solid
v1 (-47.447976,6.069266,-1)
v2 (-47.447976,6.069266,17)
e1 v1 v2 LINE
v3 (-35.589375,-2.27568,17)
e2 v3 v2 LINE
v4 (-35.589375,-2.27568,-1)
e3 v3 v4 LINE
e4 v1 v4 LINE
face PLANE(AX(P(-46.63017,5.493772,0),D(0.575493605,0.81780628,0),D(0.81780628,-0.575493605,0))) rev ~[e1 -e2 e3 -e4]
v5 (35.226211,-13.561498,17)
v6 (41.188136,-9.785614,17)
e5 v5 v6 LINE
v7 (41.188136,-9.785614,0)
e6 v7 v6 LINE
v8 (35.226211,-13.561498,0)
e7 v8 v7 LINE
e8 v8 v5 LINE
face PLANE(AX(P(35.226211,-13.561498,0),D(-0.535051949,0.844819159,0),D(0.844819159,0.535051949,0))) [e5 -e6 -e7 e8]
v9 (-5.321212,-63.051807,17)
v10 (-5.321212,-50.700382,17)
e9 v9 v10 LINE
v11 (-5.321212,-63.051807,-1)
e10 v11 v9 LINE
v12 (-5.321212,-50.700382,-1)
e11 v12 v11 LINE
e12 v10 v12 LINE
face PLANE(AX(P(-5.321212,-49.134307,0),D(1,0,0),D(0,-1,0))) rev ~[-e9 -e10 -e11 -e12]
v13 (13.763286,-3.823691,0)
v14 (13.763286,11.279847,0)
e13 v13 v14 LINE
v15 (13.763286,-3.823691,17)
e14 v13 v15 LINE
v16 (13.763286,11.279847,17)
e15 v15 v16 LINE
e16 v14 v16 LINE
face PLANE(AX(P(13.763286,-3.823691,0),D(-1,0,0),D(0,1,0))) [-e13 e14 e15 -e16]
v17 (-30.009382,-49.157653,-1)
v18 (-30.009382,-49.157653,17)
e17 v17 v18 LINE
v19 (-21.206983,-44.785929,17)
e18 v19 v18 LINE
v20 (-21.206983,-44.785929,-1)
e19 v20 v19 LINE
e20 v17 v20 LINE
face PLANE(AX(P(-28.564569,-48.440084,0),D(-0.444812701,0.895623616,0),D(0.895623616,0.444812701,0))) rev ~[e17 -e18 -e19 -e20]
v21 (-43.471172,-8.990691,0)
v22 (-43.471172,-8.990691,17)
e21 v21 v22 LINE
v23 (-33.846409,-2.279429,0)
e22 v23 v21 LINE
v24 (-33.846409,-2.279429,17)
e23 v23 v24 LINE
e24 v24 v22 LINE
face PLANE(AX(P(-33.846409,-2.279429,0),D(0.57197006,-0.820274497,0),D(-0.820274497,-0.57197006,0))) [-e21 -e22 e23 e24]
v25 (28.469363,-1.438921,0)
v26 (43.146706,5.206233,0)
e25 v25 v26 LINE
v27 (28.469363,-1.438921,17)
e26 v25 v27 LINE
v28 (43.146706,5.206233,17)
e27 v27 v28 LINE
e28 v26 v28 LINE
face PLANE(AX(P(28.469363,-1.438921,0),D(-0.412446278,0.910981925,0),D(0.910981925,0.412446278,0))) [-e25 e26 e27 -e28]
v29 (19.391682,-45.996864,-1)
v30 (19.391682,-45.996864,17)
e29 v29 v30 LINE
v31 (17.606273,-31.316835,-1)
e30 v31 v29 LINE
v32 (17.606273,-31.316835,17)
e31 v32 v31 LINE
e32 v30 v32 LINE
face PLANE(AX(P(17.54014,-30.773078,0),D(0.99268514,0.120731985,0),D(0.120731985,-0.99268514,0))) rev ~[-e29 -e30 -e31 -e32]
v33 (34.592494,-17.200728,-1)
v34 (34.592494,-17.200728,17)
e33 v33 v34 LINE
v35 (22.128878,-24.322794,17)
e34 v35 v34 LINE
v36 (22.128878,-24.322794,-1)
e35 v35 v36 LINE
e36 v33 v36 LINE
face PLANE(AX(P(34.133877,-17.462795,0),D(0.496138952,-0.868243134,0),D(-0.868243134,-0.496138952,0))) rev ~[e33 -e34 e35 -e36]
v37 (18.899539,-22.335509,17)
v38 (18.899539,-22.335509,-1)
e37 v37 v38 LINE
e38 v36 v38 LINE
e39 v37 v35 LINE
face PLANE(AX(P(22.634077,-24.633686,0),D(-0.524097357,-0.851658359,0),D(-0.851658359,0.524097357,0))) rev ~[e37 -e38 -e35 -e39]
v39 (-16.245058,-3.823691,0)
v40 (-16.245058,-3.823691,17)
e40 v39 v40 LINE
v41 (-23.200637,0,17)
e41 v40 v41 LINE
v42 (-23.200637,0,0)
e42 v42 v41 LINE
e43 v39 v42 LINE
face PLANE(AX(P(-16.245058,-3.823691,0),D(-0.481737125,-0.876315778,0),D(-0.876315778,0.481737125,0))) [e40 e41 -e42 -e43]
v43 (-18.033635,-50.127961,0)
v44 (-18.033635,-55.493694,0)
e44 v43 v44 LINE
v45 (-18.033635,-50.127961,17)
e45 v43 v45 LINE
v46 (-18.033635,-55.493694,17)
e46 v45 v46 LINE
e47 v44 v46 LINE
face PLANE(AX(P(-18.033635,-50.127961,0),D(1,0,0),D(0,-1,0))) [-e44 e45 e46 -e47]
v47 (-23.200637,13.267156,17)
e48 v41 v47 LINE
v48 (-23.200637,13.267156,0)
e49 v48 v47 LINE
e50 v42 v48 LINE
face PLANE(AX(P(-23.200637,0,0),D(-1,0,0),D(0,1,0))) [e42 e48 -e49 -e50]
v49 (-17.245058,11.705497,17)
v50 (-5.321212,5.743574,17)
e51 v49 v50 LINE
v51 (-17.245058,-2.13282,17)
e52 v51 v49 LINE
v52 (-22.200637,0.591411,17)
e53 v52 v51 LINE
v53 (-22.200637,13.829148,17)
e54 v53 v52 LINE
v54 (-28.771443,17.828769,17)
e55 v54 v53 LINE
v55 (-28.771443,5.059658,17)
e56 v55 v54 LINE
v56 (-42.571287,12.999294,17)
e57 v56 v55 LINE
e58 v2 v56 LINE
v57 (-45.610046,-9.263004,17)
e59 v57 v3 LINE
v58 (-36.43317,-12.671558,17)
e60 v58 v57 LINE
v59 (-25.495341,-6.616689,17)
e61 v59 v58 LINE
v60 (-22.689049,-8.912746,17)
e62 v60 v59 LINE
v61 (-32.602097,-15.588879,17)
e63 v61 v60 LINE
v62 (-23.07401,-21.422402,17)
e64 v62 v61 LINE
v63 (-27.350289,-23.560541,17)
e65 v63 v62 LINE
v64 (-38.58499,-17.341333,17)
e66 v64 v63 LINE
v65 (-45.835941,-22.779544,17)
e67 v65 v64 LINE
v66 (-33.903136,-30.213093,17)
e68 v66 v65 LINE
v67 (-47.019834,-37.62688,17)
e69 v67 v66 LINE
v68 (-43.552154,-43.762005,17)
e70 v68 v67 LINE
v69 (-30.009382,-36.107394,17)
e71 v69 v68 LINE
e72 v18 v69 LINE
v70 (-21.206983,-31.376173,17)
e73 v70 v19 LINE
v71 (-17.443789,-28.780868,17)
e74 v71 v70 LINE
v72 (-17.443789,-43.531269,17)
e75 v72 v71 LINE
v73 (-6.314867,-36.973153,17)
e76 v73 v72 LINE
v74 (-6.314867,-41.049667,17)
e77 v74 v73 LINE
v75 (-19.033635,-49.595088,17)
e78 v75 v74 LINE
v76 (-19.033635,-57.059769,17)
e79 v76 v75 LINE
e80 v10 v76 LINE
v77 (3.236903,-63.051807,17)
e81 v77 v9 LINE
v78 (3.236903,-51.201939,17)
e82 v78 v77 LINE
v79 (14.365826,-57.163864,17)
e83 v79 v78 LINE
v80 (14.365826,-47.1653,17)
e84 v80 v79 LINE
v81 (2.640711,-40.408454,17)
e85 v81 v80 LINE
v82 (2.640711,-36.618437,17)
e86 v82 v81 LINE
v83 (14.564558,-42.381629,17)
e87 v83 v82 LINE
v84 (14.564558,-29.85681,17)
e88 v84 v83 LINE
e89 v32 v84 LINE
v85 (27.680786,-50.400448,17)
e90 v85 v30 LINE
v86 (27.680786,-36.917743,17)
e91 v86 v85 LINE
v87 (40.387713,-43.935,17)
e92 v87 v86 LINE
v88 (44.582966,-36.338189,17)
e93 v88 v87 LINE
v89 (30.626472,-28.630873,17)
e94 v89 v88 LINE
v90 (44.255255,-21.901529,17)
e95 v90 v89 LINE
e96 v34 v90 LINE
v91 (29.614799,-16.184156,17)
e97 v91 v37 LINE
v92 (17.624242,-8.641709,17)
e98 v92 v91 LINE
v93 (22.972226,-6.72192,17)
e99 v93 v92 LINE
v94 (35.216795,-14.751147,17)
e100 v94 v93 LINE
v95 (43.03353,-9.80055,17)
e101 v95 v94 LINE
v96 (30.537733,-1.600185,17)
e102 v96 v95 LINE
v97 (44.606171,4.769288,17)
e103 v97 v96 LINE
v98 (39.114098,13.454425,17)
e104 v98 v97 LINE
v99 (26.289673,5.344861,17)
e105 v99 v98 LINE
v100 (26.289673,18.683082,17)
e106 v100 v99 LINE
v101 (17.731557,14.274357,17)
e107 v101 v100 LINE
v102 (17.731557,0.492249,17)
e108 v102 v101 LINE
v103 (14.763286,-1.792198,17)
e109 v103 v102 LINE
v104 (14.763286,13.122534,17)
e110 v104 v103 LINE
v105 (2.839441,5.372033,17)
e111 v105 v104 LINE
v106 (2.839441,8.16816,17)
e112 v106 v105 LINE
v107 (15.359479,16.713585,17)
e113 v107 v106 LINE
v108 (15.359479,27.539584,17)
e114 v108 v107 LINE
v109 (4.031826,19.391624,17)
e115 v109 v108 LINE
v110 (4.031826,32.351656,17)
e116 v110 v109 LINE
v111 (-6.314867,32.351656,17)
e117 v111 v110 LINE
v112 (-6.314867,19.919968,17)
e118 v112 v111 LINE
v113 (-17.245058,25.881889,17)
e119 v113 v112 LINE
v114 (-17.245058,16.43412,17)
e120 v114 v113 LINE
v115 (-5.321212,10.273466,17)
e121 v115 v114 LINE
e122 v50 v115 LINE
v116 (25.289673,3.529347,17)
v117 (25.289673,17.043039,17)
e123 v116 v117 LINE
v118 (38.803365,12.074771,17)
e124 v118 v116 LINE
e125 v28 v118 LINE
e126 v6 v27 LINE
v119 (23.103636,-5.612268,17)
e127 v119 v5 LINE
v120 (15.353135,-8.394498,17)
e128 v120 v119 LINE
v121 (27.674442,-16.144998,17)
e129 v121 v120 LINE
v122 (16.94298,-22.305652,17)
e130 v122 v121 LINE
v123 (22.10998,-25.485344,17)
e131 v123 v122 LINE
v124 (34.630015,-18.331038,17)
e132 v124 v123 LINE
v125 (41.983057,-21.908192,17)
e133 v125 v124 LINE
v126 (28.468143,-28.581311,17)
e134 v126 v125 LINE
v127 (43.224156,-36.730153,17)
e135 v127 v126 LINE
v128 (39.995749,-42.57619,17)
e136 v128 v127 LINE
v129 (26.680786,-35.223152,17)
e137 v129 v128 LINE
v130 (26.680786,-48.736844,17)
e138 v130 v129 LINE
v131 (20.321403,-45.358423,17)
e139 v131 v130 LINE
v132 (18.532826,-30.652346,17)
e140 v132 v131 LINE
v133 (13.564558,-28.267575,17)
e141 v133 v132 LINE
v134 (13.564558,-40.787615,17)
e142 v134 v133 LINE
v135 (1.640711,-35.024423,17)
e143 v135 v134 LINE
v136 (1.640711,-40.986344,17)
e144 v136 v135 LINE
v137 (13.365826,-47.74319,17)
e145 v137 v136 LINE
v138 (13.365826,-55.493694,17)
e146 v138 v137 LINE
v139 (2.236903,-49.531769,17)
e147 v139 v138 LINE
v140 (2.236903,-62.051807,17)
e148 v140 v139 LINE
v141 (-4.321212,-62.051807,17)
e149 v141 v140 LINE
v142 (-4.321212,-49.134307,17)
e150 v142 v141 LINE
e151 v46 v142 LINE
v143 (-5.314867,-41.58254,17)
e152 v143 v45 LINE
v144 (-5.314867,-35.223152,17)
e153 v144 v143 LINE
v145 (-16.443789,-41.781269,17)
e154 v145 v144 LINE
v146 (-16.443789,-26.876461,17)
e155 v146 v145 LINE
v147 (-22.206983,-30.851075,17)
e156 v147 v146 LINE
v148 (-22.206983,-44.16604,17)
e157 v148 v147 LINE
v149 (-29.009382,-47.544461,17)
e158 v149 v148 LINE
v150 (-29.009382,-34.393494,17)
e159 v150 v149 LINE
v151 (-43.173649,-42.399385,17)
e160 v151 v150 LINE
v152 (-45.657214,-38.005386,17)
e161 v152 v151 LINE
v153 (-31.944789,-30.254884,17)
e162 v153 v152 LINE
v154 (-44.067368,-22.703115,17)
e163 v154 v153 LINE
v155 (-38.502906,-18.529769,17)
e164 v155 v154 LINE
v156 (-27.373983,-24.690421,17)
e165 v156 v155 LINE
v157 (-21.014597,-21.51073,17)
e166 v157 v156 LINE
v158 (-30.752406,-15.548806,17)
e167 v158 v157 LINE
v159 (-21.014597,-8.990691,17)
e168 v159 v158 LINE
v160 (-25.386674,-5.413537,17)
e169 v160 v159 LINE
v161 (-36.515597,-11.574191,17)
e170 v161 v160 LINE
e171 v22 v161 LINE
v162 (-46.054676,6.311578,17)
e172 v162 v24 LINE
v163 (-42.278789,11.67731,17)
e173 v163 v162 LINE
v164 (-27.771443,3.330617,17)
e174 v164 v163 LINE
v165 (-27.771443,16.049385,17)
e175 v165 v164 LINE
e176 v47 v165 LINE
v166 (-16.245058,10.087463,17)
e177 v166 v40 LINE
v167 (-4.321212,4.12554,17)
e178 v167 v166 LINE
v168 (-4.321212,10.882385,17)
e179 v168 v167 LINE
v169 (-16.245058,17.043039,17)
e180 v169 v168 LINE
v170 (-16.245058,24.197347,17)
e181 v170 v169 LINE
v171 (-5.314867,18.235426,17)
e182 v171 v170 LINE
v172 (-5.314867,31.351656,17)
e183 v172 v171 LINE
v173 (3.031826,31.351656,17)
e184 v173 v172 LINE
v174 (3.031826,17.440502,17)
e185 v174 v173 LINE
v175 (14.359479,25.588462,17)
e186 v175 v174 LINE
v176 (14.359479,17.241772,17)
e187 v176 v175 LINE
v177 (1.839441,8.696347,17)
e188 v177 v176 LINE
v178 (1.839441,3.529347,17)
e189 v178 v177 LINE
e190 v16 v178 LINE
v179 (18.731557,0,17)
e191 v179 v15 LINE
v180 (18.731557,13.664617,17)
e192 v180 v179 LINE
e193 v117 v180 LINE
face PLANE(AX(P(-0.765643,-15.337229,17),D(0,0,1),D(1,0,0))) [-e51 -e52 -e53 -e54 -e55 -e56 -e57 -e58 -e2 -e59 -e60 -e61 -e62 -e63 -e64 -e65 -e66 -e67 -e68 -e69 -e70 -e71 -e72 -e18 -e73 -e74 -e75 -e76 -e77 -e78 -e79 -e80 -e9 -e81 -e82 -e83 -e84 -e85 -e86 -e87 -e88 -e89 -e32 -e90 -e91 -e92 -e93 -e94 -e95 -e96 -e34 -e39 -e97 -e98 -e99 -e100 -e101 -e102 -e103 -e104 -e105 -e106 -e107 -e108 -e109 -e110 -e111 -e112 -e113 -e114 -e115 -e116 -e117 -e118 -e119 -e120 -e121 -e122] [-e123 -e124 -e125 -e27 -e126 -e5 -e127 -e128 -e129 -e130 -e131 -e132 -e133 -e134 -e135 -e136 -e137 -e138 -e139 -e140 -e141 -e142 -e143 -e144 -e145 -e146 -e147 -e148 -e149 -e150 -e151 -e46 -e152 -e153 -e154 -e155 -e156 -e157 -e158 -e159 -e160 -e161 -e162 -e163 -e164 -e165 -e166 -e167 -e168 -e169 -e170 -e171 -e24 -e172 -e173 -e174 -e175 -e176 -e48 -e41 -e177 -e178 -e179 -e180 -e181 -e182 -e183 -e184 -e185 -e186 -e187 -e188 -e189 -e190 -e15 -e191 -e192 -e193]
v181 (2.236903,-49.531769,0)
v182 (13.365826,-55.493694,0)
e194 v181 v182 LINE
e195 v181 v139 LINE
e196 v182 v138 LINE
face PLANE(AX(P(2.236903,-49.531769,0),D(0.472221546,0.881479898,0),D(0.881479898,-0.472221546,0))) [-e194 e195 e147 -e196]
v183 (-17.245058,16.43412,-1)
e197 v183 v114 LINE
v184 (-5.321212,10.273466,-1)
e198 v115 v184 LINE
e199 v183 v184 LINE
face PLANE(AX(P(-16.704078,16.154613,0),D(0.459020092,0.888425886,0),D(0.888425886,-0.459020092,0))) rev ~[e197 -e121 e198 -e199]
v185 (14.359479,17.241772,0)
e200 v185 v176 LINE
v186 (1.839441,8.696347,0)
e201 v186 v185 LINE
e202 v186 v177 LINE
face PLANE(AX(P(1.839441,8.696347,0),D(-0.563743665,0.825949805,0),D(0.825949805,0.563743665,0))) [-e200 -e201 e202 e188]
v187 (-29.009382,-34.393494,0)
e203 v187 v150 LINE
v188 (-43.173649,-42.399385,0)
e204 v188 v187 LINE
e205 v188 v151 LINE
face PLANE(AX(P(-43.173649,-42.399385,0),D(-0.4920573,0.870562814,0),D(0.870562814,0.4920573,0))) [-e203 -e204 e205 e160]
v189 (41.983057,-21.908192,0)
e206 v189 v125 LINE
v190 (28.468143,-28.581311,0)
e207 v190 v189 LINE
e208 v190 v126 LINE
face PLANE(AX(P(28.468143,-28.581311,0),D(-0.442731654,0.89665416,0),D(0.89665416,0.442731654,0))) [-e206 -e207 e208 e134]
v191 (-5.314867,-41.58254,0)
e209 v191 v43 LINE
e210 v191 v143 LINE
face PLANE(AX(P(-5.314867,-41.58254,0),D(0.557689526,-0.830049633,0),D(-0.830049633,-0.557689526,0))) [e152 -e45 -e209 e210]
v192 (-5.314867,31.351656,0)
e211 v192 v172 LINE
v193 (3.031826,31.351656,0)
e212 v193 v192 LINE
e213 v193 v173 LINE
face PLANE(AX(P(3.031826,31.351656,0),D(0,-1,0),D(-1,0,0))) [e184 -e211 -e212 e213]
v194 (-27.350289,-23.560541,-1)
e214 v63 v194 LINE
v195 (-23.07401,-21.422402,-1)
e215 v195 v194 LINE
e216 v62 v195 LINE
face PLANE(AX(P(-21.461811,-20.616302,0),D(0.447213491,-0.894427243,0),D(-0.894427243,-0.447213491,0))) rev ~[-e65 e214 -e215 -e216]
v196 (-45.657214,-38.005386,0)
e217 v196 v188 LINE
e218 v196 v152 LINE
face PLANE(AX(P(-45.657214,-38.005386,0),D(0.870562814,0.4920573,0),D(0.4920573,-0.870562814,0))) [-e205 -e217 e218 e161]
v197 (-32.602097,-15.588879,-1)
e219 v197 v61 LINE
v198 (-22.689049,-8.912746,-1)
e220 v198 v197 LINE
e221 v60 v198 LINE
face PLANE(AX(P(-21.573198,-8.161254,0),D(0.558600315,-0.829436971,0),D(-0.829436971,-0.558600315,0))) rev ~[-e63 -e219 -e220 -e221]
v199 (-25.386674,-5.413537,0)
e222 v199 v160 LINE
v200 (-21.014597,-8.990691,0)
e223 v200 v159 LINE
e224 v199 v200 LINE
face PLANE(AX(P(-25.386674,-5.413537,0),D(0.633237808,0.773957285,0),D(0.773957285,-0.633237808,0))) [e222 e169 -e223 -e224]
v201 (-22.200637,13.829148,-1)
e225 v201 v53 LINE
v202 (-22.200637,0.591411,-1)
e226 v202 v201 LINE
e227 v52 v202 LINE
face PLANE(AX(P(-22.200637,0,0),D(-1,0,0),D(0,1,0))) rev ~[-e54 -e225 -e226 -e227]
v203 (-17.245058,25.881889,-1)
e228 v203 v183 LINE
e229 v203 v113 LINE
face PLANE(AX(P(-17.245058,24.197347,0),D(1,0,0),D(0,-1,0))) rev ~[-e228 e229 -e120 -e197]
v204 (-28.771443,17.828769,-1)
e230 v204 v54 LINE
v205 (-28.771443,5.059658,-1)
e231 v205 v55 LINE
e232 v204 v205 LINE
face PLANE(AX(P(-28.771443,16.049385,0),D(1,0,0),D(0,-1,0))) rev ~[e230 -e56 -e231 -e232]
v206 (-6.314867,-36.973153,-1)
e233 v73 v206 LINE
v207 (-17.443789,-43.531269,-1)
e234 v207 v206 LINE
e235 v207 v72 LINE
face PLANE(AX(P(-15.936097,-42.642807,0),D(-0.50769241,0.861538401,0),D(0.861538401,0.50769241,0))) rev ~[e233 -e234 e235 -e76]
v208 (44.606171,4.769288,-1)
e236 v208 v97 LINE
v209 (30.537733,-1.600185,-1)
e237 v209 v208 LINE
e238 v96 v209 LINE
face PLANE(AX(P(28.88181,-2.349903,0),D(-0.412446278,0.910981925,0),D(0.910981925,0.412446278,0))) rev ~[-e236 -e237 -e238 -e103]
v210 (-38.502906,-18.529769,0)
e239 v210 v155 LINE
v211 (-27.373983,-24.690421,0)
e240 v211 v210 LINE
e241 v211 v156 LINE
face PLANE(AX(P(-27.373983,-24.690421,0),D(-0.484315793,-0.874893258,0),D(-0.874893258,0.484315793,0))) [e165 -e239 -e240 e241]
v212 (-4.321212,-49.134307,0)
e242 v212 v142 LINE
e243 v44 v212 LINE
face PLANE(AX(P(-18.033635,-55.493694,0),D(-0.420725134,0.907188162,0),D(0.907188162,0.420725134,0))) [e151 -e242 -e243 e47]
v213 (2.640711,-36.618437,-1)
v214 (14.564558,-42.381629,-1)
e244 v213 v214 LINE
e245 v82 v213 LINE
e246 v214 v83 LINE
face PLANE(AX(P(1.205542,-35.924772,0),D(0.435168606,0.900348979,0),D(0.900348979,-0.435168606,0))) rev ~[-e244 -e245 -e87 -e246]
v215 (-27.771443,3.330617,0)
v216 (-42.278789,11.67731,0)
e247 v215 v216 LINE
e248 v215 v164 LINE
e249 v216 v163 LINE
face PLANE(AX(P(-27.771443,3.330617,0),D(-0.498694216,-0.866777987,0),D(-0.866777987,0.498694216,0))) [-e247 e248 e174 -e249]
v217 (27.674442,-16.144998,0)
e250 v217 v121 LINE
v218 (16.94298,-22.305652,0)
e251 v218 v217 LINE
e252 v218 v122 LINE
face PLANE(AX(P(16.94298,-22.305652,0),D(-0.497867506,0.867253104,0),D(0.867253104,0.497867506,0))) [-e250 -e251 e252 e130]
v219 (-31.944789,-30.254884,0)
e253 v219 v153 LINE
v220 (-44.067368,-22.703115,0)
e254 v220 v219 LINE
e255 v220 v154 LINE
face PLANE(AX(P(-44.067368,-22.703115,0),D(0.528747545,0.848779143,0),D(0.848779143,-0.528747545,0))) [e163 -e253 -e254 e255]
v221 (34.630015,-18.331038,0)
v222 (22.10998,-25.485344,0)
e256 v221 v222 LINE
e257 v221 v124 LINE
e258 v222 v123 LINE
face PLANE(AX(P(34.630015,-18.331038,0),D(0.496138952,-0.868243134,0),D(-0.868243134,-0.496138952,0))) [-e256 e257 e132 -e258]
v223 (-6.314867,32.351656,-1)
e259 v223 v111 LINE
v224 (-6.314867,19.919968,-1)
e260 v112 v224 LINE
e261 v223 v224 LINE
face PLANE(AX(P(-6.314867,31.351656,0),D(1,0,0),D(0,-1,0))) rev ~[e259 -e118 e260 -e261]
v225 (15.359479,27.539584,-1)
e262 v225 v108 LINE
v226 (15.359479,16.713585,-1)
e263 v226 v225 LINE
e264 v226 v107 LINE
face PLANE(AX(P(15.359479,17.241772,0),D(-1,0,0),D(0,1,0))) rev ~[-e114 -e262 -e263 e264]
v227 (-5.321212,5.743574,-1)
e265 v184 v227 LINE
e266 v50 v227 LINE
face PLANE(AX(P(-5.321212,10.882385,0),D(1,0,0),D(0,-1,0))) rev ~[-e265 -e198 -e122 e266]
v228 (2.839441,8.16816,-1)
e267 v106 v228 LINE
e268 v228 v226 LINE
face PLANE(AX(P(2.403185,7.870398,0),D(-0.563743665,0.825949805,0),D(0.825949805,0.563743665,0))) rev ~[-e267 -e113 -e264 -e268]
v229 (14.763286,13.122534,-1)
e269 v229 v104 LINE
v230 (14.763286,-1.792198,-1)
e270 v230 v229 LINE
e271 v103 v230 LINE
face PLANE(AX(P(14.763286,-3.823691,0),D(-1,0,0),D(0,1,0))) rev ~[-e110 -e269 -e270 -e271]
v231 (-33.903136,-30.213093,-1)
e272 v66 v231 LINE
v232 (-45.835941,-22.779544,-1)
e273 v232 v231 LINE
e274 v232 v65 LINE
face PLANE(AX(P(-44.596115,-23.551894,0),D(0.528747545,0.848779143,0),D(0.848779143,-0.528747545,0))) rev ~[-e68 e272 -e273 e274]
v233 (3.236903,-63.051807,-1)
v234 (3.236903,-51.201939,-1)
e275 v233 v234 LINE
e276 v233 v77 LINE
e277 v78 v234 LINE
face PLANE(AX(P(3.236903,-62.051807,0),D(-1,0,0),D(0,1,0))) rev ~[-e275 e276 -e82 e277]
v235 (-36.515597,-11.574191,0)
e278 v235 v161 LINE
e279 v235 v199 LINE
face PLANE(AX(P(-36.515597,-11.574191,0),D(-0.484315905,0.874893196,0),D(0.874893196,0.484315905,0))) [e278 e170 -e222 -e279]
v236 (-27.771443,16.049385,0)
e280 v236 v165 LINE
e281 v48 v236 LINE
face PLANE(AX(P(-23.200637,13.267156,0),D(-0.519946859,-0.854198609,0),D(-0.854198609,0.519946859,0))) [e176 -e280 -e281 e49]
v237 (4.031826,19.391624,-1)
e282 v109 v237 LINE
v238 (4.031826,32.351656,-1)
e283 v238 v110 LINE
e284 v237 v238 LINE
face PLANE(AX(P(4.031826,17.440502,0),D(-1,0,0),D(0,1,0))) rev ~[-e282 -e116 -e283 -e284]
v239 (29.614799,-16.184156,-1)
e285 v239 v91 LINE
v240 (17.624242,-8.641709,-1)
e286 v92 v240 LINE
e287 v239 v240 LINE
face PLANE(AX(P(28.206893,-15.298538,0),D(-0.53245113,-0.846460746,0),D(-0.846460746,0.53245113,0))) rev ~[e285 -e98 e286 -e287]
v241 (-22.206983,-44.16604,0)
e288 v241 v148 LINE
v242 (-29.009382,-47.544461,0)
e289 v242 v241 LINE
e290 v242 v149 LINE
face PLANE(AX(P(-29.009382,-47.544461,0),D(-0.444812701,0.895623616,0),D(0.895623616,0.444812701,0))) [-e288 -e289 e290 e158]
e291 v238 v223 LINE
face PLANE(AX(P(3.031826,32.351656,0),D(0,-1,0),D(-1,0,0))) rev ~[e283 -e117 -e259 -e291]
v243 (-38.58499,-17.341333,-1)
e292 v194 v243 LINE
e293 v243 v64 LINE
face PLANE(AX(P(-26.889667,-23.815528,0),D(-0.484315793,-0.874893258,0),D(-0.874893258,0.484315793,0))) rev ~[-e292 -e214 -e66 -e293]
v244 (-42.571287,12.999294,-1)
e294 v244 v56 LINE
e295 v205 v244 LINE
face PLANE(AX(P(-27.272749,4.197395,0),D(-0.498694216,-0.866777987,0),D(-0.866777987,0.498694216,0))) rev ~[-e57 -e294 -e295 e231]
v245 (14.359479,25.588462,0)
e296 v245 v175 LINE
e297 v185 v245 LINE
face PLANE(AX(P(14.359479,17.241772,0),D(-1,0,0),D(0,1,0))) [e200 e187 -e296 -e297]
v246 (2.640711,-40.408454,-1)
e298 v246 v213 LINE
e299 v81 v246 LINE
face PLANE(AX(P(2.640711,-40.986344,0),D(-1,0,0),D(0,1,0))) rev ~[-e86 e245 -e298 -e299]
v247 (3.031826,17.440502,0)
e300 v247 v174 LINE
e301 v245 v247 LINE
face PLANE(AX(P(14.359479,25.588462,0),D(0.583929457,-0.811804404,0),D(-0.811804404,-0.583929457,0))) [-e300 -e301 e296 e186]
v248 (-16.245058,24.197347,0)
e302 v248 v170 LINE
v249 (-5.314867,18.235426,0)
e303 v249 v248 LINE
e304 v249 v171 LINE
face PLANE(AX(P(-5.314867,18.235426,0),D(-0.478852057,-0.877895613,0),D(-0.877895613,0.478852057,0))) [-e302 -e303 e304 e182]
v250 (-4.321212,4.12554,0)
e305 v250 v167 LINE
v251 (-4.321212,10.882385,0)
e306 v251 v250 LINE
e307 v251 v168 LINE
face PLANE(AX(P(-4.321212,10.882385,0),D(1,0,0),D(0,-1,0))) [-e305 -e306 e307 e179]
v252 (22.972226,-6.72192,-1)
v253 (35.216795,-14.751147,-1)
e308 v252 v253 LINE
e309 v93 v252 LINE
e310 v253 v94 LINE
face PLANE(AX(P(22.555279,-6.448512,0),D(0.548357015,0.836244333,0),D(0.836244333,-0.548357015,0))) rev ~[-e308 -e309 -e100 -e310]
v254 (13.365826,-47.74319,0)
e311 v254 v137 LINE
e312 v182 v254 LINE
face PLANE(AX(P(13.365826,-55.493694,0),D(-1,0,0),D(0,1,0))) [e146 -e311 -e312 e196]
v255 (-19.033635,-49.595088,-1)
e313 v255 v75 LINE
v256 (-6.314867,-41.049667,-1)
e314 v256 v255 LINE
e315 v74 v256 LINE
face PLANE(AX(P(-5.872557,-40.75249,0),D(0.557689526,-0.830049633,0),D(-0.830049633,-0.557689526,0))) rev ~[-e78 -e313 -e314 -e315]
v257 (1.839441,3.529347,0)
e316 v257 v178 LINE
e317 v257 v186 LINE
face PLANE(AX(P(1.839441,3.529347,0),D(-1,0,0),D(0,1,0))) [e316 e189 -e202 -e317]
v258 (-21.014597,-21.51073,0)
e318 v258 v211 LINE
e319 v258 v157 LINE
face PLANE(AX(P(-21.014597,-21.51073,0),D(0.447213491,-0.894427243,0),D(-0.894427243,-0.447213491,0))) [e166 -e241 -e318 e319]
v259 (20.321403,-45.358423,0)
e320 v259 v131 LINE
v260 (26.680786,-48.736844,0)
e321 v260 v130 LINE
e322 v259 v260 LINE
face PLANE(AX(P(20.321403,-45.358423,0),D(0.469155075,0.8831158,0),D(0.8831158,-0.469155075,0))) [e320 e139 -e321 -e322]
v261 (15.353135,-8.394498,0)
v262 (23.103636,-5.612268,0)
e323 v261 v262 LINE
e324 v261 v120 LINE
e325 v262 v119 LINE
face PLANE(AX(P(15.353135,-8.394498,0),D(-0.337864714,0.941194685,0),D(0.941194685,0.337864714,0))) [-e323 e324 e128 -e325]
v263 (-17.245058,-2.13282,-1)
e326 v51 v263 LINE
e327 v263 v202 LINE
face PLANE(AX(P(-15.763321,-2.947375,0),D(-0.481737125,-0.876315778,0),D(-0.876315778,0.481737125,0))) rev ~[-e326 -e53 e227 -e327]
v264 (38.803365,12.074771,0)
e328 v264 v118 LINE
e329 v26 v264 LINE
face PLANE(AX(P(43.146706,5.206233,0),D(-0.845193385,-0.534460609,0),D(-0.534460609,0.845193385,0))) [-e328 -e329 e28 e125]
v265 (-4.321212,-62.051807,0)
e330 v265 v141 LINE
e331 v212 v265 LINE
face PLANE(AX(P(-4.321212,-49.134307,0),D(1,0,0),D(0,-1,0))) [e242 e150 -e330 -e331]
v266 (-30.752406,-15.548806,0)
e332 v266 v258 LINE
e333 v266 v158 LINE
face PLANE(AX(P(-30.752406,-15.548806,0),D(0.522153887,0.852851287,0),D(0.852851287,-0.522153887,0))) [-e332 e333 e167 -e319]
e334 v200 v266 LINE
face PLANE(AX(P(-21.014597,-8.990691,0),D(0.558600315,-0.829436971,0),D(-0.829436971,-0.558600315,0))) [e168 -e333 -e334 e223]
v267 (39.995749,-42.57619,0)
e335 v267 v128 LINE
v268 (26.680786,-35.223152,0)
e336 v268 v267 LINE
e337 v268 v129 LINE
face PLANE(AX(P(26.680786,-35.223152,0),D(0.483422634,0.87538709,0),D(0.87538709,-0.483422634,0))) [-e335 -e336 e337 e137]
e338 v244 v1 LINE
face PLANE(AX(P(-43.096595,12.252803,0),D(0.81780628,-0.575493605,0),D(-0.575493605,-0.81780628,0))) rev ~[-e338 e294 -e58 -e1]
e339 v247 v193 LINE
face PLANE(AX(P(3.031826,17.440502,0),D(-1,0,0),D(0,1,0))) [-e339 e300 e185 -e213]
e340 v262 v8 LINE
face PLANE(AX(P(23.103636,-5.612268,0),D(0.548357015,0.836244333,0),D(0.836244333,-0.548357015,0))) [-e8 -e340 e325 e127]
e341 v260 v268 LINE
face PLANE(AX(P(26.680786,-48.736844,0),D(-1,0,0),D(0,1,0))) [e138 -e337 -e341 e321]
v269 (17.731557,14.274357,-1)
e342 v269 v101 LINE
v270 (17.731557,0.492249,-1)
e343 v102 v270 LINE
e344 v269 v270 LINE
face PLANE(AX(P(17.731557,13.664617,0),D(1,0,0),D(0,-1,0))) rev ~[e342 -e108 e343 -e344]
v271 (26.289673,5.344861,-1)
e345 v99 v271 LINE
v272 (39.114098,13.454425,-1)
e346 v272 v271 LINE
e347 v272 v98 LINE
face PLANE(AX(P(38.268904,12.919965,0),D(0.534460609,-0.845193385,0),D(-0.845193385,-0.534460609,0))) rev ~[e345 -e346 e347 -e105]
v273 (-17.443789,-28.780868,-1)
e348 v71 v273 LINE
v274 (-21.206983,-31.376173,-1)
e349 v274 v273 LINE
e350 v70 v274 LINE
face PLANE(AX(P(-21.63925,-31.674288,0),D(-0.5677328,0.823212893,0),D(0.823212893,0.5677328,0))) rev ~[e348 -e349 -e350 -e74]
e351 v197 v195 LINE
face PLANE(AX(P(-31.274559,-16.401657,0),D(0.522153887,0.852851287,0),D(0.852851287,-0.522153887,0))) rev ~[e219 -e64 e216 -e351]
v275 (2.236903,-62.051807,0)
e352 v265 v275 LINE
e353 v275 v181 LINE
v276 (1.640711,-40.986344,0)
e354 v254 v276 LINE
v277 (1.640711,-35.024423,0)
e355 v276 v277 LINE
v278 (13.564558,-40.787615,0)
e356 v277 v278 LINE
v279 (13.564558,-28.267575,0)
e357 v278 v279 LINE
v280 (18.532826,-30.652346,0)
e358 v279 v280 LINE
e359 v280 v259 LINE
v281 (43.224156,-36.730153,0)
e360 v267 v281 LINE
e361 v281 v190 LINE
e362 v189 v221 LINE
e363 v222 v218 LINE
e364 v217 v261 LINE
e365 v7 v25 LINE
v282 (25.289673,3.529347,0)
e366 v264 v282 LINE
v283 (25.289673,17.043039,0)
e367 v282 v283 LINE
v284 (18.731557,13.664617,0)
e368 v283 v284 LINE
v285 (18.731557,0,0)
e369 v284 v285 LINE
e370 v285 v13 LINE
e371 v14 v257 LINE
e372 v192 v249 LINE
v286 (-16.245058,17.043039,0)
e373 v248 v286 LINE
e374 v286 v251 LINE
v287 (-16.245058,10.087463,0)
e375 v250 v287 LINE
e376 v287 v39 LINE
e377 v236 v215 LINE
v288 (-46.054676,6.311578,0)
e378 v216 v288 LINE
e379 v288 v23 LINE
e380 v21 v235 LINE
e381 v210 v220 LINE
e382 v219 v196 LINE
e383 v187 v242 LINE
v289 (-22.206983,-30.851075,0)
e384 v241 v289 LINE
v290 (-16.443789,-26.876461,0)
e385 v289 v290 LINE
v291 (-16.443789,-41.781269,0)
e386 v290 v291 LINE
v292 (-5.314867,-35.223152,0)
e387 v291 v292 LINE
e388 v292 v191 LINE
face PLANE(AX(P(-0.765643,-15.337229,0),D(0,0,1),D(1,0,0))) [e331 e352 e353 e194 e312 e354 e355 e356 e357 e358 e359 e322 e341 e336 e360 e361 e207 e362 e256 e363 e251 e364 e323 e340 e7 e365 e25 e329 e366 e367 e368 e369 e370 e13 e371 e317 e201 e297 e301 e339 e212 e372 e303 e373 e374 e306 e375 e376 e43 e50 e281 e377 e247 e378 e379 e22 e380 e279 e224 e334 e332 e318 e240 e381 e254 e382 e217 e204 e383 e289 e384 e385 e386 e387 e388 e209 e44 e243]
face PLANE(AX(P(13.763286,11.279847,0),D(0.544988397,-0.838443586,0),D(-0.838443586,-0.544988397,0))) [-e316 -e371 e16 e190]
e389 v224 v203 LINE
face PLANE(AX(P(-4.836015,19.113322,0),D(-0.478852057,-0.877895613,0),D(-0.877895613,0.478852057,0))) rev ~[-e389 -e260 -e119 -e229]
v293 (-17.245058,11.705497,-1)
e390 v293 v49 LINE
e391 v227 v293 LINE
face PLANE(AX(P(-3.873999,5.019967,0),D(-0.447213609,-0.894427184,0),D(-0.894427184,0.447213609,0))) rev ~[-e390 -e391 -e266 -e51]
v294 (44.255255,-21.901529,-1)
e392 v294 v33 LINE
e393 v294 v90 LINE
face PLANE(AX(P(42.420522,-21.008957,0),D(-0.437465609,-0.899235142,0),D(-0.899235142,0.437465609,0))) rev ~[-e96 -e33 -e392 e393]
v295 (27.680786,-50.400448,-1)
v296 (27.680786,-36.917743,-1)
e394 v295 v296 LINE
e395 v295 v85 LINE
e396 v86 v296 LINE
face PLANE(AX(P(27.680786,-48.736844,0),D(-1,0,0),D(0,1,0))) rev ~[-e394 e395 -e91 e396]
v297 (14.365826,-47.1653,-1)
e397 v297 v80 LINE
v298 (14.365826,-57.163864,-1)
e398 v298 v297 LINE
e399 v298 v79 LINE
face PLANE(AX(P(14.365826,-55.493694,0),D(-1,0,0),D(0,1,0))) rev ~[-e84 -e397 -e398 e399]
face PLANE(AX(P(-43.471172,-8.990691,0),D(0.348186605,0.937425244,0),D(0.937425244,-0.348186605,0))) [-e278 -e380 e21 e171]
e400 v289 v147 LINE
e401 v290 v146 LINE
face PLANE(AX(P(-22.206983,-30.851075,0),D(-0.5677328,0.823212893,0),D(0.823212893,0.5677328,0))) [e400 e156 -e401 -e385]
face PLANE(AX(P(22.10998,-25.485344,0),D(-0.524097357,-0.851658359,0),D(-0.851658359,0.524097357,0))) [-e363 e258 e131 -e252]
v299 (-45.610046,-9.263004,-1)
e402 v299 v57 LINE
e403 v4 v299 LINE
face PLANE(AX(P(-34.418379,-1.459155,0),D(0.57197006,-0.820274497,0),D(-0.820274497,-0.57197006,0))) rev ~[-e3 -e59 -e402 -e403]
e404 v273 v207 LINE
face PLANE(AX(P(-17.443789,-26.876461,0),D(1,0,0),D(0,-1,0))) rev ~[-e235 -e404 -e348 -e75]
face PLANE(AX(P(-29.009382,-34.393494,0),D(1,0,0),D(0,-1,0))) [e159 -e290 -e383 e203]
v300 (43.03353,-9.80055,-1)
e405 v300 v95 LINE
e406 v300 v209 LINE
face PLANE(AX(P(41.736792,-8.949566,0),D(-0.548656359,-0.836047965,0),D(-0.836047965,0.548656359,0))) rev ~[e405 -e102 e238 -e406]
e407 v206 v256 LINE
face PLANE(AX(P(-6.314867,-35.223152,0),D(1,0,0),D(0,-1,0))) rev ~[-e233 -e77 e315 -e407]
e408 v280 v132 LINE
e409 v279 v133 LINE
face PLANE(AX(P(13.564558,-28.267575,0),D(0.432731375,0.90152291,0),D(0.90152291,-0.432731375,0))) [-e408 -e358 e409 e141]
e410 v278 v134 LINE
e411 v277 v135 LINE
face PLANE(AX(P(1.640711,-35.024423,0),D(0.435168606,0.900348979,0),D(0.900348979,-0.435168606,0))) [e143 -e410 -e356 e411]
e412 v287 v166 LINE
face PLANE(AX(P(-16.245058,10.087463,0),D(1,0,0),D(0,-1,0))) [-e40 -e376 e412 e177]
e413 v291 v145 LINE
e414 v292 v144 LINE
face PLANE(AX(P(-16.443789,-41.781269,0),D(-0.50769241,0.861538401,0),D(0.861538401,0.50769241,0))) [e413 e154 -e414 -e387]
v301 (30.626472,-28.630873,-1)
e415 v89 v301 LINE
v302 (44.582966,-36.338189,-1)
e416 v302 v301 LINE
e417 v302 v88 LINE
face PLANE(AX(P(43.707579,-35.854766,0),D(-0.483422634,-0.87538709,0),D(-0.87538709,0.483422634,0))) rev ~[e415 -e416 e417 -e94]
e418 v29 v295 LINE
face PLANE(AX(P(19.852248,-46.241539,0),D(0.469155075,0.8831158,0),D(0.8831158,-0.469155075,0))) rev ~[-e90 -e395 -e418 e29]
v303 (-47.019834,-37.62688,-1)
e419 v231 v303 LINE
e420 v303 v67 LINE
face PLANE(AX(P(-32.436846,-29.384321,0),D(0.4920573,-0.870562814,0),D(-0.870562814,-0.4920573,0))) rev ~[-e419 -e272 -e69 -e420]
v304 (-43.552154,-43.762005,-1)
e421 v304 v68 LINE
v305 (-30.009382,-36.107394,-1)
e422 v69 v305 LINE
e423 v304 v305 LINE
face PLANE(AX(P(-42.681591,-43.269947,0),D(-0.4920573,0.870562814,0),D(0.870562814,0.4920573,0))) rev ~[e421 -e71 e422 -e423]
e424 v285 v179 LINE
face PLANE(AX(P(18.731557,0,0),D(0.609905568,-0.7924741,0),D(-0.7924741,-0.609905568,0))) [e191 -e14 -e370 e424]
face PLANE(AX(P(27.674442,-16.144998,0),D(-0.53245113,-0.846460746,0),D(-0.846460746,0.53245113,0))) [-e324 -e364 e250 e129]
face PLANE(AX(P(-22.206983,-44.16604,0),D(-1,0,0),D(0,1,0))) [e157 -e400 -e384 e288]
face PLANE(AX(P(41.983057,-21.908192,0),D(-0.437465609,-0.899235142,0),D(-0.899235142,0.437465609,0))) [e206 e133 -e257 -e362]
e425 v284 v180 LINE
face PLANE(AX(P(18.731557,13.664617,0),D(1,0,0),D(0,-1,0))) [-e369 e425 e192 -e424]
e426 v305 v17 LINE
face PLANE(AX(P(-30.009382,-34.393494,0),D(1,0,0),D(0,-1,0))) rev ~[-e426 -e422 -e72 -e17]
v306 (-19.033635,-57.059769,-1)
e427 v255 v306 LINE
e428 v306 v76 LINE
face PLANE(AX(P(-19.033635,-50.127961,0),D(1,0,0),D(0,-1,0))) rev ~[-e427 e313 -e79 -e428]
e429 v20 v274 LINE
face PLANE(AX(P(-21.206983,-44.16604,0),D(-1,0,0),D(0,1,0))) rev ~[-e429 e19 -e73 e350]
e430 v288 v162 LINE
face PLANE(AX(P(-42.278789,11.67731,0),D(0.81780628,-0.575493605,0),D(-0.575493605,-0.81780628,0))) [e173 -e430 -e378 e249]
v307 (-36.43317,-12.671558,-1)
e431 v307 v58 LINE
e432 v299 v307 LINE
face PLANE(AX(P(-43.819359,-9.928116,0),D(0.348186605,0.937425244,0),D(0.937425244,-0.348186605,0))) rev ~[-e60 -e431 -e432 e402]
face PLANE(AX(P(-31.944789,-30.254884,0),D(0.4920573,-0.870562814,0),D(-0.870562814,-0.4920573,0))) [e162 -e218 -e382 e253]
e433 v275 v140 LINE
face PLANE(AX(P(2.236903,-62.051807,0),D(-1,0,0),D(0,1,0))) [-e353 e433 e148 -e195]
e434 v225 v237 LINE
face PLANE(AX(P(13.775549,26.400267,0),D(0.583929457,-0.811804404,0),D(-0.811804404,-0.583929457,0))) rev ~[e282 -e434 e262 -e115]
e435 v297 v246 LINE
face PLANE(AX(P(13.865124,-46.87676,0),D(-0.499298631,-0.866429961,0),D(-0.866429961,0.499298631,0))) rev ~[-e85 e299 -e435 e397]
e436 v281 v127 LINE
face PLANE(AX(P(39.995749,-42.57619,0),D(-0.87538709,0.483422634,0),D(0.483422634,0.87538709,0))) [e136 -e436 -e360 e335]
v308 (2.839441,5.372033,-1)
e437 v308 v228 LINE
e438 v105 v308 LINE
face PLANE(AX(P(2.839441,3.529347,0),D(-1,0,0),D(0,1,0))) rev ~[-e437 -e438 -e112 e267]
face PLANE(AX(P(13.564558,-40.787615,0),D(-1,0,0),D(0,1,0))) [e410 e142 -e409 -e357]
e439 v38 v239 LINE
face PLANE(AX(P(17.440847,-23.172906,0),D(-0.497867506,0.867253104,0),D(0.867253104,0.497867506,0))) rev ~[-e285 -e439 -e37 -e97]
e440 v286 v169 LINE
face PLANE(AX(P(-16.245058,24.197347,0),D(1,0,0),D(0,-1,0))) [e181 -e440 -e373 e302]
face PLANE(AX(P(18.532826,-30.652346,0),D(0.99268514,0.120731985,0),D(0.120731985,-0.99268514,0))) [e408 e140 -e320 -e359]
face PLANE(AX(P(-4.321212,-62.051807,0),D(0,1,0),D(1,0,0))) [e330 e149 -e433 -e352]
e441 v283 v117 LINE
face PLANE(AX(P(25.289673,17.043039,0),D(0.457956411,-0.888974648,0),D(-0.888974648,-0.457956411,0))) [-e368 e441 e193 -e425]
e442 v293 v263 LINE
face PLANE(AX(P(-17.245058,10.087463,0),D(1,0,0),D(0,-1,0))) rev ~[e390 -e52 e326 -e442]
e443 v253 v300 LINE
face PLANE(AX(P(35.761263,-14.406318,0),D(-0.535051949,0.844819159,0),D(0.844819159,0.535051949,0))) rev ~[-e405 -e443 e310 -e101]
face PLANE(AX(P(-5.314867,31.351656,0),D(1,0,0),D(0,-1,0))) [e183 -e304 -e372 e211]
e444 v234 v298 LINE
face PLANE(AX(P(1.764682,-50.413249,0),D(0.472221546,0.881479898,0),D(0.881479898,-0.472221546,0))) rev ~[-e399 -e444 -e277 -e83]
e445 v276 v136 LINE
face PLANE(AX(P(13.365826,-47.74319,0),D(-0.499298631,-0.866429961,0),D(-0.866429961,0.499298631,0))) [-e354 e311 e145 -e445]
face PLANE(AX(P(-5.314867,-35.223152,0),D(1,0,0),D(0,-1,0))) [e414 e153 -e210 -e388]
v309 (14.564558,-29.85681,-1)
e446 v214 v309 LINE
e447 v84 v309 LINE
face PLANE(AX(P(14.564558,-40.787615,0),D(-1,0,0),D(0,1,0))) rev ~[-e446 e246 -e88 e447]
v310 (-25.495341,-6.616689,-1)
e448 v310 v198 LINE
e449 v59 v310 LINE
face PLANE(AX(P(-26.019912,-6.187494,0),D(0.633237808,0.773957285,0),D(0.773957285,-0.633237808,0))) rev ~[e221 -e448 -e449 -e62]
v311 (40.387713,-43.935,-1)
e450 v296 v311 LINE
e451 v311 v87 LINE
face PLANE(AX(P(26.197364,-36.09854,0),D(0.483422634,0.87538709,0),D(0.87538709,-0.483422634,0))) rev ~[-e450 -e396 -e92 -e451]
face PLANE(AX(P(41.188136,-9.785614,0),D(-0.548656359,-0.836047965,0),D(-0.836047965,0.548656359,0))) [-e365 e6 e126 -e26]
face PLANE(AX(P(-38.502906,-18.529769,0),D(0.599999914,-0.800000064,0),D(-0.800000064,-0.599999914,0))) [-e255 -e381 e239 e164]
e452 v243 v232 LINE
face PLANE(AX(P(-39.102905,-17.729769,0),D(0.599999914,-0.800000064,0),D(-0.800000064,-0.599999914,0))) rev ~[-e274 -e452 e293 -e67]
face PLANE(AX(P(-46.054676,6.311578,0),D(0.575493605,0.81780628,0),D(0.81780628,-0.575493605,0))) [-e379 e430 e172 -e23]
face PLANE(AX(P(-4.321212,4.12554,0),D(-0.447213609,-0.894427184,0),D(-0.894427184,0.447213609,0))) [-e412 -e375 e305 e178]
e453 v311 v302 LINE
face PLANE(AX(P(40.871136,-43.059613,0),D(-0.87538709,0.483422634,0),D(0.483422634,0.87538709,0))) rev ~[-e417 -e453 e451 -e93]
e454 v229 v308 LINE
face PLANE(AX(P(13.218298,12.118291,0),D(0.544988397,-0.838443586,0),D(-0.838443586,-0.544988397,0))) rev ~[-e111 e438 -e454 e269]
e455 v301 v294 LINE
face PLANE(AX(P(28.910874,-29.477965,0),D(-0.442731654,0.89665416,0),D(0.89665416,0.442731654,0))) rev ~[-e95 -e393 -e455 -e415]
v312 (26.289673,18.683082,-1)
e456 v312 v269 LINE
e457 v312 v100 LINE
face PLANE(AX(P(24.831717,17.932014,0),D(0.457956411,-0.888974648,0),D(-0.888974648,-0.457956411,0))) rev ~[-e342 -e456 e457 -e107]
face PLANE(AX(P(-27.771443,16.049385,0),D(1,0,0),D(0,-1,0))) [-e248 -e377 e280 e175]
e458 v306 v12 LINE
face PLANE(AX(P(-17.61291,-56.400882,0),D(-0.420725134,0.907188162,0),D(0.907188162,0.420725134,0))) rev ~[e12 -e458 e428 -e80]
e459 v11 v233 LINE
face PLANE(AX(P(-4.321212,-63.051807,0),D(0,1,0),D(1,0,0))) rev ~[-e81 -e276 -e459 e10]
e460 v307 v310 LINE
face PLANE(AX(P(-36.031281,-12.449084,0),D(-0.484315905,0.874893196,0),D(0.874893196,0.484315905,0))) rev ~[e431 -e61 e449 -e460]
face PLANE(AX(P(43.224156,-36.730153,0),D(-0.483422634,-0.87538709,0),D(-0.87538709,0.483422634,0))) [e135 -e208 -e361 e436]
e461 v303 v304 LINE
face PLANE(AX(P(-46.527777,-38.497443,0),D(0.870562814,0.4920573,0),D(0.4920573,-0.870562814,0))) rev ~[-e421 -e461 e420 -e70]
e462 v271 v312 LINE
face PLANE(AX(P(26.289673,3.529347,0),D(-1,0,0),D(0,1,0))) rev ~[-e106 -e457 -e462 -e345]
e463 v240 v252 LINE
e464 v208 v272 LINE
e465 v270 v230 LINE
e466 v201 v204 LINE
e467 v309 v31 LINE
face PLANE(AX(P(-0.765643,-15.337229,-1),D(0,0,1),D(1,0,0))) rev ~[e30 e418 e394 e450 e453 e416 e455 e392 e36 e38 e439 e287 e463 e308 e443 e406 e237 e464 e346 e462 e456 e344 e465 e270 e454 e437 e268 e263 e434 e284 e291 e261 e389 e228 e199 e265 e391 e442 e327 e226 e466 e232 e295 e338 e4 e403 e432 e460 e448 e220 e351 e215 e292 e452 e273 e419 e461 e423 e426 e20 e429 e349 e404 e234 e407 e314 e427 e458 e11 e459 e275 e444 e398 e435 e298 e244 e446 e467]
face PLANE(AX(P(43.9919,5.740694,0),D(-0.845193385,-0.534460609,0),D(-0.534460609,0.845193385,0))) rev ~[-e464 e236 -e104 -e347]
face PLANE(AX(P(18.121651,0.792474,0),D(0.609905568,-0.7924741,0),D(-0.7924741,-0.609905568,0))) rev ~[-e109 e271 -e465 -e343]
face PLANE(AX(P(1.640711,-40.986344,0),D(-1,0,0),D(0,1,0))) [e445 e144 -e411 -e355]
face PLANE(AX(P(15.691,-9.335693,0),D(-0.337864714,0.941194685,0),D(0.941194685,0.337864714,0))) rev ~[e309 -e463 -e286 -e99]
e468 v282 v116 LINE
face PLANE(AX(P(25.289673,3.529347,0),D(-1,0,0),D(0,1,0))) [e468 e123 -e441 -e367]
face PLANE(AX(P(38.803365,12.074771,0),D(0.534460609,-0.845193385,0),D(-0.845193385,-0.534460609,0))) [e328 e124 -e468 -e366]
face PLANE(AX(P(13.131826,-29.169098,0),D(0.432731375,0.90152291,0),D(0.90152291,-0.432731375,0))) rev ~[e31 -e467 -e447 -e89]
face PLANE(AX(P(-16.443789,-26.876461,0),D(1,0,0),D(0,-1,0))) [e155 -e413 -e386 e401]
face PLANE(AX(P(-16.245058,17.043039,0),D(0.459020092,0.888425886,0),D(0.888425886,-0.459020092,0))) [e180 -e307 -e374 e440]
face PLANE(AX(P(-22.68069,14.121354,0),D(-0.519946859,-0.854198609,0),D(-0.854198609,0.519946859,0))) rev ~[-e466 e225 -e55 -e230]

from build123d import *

# Parameters (mm, degrees)
F1_DEPTH = 17
F2_T     = 1


with BuildPart() as f1:
    # F0 (on Top) → F1 (new body)
    with BuildSketch(Plane.XY):
        Polygon((-27.7714431286, 3.3306172118), (-42.2787889838, 11.6773098707), (-46.0546761751, 6.3115782104), (-33.8464085439, -2.2794293716), (-43.471172452, -8.9906910434), (-36.515597254, -11.5741910413), (-25.3866743296, -5.4135369137), (-21.0145972669, -8.9906910434), (-30.7524055243, -15.5488057062), (-21.0145972669, -21.5107295662), (-27.3739825934, -24.6904212981), (-38.5029055178, -18.5297690332), (-44.0673679113, -22.703114897), (-31.9447889924, -30.2548836917), (-45.6572137773, -38.0053855479), (-43.173648768, -42.3993846747), (-29.0093820945, -34.3934938956), (-29.0093820945, -47.5444607437), (-22.2069825977, -44.1660396755), (-22.2069825977, -30.8510754257), (-16.4437890053, -26.8764607608), (-16.4437890053, -41.7812690139), (-5.3148670122, -35.2231524885), (-5.3148670122, -41.5825396776), (-18.0336348712, -50.1279607415), (-18.0336348712, -55.4936937988), (-4.3212124147, -49.1343066096), (-4.3212124147, -62.0518065989), (2.2369034123, -62.0518065989), (2.2369034123, -49.5317690074), (13.3658256382, -55.4936937988), (13.3658256382, -47.7431900799), (1.6407109797, -40.9863442183), (1.6407109797, -35.0244231522), (13.5645577684, -40.787614882), (13.5645577684, -28.2675754279), (18.5328256339, -30.6523460895), (20.3214026988, -45.3584231436), (26.6807861626, -48.7368442118), (26.6807861626, -35.2231524885), (39.9957485497, -42.5761900842), (43.2241563976, -36.7301531906), (28.4681427782, -28.5813113274), (41.9830568135, -21.908191964), (34.6300154924, -18.3310378343), (22.1099797636, -25.4853442311), (16.9429797679, -22.3056524992), (27.6744421571, -16.1449983716), (15.3531348333, -8.394498378), (23.1036357582, -5.6122676469), (35.2262109518, -13.5614983737), (41.1881357431, -9.7856139764), (28.4693632275, -1.4389213175), (43.1467061942, 5.2062330151), (38.8033650815, 12.0747713372), (25.2896733582, 3.5293472465), (25.2896733582, 17.0430392027), (18.7315568328, 13.6646172032), (18.7315568328, 0), (13.7632861733, -3.8236908149), (13.7632861733, 11.2798474729), (1.8394411309, 3.5293472465), (1.8394411309, 8.6963474751), (14.3594788387, 17.2417722642), (14.3594788387, 25.5884621292), (3.0318258796, 17.4405016005), (3.0318258796, 31.3516557217), (-5.3148670122, 31.3516557217), (-5.3148670122, 18.2354263961), (-16.2450578064, 24.1973474622), (-16.2450578064, 17.0430392027), (-4.3212124147, 10.8823850751), (-4.3212124147, 4.1255401447), (-16.2450578064, 10.0874630734), (-16.2450578064, -3.8236908149), (-23.2006367296, 0), (-23.2006367296, 13.2671557367), (-27.7714431286, 16.0493850708), align=None)
    extrude(amount=F1_DEPTH)

    # F2
    f2_openings = [f1.faces().sort_by_distance(p)[0] for p in [
        (-0.933502, -15.354262, 17),
    ]]
    offset(amount=F2_T, openings=f2_openings, kind=Kind.INTERSECTION)


solid = f1.part
